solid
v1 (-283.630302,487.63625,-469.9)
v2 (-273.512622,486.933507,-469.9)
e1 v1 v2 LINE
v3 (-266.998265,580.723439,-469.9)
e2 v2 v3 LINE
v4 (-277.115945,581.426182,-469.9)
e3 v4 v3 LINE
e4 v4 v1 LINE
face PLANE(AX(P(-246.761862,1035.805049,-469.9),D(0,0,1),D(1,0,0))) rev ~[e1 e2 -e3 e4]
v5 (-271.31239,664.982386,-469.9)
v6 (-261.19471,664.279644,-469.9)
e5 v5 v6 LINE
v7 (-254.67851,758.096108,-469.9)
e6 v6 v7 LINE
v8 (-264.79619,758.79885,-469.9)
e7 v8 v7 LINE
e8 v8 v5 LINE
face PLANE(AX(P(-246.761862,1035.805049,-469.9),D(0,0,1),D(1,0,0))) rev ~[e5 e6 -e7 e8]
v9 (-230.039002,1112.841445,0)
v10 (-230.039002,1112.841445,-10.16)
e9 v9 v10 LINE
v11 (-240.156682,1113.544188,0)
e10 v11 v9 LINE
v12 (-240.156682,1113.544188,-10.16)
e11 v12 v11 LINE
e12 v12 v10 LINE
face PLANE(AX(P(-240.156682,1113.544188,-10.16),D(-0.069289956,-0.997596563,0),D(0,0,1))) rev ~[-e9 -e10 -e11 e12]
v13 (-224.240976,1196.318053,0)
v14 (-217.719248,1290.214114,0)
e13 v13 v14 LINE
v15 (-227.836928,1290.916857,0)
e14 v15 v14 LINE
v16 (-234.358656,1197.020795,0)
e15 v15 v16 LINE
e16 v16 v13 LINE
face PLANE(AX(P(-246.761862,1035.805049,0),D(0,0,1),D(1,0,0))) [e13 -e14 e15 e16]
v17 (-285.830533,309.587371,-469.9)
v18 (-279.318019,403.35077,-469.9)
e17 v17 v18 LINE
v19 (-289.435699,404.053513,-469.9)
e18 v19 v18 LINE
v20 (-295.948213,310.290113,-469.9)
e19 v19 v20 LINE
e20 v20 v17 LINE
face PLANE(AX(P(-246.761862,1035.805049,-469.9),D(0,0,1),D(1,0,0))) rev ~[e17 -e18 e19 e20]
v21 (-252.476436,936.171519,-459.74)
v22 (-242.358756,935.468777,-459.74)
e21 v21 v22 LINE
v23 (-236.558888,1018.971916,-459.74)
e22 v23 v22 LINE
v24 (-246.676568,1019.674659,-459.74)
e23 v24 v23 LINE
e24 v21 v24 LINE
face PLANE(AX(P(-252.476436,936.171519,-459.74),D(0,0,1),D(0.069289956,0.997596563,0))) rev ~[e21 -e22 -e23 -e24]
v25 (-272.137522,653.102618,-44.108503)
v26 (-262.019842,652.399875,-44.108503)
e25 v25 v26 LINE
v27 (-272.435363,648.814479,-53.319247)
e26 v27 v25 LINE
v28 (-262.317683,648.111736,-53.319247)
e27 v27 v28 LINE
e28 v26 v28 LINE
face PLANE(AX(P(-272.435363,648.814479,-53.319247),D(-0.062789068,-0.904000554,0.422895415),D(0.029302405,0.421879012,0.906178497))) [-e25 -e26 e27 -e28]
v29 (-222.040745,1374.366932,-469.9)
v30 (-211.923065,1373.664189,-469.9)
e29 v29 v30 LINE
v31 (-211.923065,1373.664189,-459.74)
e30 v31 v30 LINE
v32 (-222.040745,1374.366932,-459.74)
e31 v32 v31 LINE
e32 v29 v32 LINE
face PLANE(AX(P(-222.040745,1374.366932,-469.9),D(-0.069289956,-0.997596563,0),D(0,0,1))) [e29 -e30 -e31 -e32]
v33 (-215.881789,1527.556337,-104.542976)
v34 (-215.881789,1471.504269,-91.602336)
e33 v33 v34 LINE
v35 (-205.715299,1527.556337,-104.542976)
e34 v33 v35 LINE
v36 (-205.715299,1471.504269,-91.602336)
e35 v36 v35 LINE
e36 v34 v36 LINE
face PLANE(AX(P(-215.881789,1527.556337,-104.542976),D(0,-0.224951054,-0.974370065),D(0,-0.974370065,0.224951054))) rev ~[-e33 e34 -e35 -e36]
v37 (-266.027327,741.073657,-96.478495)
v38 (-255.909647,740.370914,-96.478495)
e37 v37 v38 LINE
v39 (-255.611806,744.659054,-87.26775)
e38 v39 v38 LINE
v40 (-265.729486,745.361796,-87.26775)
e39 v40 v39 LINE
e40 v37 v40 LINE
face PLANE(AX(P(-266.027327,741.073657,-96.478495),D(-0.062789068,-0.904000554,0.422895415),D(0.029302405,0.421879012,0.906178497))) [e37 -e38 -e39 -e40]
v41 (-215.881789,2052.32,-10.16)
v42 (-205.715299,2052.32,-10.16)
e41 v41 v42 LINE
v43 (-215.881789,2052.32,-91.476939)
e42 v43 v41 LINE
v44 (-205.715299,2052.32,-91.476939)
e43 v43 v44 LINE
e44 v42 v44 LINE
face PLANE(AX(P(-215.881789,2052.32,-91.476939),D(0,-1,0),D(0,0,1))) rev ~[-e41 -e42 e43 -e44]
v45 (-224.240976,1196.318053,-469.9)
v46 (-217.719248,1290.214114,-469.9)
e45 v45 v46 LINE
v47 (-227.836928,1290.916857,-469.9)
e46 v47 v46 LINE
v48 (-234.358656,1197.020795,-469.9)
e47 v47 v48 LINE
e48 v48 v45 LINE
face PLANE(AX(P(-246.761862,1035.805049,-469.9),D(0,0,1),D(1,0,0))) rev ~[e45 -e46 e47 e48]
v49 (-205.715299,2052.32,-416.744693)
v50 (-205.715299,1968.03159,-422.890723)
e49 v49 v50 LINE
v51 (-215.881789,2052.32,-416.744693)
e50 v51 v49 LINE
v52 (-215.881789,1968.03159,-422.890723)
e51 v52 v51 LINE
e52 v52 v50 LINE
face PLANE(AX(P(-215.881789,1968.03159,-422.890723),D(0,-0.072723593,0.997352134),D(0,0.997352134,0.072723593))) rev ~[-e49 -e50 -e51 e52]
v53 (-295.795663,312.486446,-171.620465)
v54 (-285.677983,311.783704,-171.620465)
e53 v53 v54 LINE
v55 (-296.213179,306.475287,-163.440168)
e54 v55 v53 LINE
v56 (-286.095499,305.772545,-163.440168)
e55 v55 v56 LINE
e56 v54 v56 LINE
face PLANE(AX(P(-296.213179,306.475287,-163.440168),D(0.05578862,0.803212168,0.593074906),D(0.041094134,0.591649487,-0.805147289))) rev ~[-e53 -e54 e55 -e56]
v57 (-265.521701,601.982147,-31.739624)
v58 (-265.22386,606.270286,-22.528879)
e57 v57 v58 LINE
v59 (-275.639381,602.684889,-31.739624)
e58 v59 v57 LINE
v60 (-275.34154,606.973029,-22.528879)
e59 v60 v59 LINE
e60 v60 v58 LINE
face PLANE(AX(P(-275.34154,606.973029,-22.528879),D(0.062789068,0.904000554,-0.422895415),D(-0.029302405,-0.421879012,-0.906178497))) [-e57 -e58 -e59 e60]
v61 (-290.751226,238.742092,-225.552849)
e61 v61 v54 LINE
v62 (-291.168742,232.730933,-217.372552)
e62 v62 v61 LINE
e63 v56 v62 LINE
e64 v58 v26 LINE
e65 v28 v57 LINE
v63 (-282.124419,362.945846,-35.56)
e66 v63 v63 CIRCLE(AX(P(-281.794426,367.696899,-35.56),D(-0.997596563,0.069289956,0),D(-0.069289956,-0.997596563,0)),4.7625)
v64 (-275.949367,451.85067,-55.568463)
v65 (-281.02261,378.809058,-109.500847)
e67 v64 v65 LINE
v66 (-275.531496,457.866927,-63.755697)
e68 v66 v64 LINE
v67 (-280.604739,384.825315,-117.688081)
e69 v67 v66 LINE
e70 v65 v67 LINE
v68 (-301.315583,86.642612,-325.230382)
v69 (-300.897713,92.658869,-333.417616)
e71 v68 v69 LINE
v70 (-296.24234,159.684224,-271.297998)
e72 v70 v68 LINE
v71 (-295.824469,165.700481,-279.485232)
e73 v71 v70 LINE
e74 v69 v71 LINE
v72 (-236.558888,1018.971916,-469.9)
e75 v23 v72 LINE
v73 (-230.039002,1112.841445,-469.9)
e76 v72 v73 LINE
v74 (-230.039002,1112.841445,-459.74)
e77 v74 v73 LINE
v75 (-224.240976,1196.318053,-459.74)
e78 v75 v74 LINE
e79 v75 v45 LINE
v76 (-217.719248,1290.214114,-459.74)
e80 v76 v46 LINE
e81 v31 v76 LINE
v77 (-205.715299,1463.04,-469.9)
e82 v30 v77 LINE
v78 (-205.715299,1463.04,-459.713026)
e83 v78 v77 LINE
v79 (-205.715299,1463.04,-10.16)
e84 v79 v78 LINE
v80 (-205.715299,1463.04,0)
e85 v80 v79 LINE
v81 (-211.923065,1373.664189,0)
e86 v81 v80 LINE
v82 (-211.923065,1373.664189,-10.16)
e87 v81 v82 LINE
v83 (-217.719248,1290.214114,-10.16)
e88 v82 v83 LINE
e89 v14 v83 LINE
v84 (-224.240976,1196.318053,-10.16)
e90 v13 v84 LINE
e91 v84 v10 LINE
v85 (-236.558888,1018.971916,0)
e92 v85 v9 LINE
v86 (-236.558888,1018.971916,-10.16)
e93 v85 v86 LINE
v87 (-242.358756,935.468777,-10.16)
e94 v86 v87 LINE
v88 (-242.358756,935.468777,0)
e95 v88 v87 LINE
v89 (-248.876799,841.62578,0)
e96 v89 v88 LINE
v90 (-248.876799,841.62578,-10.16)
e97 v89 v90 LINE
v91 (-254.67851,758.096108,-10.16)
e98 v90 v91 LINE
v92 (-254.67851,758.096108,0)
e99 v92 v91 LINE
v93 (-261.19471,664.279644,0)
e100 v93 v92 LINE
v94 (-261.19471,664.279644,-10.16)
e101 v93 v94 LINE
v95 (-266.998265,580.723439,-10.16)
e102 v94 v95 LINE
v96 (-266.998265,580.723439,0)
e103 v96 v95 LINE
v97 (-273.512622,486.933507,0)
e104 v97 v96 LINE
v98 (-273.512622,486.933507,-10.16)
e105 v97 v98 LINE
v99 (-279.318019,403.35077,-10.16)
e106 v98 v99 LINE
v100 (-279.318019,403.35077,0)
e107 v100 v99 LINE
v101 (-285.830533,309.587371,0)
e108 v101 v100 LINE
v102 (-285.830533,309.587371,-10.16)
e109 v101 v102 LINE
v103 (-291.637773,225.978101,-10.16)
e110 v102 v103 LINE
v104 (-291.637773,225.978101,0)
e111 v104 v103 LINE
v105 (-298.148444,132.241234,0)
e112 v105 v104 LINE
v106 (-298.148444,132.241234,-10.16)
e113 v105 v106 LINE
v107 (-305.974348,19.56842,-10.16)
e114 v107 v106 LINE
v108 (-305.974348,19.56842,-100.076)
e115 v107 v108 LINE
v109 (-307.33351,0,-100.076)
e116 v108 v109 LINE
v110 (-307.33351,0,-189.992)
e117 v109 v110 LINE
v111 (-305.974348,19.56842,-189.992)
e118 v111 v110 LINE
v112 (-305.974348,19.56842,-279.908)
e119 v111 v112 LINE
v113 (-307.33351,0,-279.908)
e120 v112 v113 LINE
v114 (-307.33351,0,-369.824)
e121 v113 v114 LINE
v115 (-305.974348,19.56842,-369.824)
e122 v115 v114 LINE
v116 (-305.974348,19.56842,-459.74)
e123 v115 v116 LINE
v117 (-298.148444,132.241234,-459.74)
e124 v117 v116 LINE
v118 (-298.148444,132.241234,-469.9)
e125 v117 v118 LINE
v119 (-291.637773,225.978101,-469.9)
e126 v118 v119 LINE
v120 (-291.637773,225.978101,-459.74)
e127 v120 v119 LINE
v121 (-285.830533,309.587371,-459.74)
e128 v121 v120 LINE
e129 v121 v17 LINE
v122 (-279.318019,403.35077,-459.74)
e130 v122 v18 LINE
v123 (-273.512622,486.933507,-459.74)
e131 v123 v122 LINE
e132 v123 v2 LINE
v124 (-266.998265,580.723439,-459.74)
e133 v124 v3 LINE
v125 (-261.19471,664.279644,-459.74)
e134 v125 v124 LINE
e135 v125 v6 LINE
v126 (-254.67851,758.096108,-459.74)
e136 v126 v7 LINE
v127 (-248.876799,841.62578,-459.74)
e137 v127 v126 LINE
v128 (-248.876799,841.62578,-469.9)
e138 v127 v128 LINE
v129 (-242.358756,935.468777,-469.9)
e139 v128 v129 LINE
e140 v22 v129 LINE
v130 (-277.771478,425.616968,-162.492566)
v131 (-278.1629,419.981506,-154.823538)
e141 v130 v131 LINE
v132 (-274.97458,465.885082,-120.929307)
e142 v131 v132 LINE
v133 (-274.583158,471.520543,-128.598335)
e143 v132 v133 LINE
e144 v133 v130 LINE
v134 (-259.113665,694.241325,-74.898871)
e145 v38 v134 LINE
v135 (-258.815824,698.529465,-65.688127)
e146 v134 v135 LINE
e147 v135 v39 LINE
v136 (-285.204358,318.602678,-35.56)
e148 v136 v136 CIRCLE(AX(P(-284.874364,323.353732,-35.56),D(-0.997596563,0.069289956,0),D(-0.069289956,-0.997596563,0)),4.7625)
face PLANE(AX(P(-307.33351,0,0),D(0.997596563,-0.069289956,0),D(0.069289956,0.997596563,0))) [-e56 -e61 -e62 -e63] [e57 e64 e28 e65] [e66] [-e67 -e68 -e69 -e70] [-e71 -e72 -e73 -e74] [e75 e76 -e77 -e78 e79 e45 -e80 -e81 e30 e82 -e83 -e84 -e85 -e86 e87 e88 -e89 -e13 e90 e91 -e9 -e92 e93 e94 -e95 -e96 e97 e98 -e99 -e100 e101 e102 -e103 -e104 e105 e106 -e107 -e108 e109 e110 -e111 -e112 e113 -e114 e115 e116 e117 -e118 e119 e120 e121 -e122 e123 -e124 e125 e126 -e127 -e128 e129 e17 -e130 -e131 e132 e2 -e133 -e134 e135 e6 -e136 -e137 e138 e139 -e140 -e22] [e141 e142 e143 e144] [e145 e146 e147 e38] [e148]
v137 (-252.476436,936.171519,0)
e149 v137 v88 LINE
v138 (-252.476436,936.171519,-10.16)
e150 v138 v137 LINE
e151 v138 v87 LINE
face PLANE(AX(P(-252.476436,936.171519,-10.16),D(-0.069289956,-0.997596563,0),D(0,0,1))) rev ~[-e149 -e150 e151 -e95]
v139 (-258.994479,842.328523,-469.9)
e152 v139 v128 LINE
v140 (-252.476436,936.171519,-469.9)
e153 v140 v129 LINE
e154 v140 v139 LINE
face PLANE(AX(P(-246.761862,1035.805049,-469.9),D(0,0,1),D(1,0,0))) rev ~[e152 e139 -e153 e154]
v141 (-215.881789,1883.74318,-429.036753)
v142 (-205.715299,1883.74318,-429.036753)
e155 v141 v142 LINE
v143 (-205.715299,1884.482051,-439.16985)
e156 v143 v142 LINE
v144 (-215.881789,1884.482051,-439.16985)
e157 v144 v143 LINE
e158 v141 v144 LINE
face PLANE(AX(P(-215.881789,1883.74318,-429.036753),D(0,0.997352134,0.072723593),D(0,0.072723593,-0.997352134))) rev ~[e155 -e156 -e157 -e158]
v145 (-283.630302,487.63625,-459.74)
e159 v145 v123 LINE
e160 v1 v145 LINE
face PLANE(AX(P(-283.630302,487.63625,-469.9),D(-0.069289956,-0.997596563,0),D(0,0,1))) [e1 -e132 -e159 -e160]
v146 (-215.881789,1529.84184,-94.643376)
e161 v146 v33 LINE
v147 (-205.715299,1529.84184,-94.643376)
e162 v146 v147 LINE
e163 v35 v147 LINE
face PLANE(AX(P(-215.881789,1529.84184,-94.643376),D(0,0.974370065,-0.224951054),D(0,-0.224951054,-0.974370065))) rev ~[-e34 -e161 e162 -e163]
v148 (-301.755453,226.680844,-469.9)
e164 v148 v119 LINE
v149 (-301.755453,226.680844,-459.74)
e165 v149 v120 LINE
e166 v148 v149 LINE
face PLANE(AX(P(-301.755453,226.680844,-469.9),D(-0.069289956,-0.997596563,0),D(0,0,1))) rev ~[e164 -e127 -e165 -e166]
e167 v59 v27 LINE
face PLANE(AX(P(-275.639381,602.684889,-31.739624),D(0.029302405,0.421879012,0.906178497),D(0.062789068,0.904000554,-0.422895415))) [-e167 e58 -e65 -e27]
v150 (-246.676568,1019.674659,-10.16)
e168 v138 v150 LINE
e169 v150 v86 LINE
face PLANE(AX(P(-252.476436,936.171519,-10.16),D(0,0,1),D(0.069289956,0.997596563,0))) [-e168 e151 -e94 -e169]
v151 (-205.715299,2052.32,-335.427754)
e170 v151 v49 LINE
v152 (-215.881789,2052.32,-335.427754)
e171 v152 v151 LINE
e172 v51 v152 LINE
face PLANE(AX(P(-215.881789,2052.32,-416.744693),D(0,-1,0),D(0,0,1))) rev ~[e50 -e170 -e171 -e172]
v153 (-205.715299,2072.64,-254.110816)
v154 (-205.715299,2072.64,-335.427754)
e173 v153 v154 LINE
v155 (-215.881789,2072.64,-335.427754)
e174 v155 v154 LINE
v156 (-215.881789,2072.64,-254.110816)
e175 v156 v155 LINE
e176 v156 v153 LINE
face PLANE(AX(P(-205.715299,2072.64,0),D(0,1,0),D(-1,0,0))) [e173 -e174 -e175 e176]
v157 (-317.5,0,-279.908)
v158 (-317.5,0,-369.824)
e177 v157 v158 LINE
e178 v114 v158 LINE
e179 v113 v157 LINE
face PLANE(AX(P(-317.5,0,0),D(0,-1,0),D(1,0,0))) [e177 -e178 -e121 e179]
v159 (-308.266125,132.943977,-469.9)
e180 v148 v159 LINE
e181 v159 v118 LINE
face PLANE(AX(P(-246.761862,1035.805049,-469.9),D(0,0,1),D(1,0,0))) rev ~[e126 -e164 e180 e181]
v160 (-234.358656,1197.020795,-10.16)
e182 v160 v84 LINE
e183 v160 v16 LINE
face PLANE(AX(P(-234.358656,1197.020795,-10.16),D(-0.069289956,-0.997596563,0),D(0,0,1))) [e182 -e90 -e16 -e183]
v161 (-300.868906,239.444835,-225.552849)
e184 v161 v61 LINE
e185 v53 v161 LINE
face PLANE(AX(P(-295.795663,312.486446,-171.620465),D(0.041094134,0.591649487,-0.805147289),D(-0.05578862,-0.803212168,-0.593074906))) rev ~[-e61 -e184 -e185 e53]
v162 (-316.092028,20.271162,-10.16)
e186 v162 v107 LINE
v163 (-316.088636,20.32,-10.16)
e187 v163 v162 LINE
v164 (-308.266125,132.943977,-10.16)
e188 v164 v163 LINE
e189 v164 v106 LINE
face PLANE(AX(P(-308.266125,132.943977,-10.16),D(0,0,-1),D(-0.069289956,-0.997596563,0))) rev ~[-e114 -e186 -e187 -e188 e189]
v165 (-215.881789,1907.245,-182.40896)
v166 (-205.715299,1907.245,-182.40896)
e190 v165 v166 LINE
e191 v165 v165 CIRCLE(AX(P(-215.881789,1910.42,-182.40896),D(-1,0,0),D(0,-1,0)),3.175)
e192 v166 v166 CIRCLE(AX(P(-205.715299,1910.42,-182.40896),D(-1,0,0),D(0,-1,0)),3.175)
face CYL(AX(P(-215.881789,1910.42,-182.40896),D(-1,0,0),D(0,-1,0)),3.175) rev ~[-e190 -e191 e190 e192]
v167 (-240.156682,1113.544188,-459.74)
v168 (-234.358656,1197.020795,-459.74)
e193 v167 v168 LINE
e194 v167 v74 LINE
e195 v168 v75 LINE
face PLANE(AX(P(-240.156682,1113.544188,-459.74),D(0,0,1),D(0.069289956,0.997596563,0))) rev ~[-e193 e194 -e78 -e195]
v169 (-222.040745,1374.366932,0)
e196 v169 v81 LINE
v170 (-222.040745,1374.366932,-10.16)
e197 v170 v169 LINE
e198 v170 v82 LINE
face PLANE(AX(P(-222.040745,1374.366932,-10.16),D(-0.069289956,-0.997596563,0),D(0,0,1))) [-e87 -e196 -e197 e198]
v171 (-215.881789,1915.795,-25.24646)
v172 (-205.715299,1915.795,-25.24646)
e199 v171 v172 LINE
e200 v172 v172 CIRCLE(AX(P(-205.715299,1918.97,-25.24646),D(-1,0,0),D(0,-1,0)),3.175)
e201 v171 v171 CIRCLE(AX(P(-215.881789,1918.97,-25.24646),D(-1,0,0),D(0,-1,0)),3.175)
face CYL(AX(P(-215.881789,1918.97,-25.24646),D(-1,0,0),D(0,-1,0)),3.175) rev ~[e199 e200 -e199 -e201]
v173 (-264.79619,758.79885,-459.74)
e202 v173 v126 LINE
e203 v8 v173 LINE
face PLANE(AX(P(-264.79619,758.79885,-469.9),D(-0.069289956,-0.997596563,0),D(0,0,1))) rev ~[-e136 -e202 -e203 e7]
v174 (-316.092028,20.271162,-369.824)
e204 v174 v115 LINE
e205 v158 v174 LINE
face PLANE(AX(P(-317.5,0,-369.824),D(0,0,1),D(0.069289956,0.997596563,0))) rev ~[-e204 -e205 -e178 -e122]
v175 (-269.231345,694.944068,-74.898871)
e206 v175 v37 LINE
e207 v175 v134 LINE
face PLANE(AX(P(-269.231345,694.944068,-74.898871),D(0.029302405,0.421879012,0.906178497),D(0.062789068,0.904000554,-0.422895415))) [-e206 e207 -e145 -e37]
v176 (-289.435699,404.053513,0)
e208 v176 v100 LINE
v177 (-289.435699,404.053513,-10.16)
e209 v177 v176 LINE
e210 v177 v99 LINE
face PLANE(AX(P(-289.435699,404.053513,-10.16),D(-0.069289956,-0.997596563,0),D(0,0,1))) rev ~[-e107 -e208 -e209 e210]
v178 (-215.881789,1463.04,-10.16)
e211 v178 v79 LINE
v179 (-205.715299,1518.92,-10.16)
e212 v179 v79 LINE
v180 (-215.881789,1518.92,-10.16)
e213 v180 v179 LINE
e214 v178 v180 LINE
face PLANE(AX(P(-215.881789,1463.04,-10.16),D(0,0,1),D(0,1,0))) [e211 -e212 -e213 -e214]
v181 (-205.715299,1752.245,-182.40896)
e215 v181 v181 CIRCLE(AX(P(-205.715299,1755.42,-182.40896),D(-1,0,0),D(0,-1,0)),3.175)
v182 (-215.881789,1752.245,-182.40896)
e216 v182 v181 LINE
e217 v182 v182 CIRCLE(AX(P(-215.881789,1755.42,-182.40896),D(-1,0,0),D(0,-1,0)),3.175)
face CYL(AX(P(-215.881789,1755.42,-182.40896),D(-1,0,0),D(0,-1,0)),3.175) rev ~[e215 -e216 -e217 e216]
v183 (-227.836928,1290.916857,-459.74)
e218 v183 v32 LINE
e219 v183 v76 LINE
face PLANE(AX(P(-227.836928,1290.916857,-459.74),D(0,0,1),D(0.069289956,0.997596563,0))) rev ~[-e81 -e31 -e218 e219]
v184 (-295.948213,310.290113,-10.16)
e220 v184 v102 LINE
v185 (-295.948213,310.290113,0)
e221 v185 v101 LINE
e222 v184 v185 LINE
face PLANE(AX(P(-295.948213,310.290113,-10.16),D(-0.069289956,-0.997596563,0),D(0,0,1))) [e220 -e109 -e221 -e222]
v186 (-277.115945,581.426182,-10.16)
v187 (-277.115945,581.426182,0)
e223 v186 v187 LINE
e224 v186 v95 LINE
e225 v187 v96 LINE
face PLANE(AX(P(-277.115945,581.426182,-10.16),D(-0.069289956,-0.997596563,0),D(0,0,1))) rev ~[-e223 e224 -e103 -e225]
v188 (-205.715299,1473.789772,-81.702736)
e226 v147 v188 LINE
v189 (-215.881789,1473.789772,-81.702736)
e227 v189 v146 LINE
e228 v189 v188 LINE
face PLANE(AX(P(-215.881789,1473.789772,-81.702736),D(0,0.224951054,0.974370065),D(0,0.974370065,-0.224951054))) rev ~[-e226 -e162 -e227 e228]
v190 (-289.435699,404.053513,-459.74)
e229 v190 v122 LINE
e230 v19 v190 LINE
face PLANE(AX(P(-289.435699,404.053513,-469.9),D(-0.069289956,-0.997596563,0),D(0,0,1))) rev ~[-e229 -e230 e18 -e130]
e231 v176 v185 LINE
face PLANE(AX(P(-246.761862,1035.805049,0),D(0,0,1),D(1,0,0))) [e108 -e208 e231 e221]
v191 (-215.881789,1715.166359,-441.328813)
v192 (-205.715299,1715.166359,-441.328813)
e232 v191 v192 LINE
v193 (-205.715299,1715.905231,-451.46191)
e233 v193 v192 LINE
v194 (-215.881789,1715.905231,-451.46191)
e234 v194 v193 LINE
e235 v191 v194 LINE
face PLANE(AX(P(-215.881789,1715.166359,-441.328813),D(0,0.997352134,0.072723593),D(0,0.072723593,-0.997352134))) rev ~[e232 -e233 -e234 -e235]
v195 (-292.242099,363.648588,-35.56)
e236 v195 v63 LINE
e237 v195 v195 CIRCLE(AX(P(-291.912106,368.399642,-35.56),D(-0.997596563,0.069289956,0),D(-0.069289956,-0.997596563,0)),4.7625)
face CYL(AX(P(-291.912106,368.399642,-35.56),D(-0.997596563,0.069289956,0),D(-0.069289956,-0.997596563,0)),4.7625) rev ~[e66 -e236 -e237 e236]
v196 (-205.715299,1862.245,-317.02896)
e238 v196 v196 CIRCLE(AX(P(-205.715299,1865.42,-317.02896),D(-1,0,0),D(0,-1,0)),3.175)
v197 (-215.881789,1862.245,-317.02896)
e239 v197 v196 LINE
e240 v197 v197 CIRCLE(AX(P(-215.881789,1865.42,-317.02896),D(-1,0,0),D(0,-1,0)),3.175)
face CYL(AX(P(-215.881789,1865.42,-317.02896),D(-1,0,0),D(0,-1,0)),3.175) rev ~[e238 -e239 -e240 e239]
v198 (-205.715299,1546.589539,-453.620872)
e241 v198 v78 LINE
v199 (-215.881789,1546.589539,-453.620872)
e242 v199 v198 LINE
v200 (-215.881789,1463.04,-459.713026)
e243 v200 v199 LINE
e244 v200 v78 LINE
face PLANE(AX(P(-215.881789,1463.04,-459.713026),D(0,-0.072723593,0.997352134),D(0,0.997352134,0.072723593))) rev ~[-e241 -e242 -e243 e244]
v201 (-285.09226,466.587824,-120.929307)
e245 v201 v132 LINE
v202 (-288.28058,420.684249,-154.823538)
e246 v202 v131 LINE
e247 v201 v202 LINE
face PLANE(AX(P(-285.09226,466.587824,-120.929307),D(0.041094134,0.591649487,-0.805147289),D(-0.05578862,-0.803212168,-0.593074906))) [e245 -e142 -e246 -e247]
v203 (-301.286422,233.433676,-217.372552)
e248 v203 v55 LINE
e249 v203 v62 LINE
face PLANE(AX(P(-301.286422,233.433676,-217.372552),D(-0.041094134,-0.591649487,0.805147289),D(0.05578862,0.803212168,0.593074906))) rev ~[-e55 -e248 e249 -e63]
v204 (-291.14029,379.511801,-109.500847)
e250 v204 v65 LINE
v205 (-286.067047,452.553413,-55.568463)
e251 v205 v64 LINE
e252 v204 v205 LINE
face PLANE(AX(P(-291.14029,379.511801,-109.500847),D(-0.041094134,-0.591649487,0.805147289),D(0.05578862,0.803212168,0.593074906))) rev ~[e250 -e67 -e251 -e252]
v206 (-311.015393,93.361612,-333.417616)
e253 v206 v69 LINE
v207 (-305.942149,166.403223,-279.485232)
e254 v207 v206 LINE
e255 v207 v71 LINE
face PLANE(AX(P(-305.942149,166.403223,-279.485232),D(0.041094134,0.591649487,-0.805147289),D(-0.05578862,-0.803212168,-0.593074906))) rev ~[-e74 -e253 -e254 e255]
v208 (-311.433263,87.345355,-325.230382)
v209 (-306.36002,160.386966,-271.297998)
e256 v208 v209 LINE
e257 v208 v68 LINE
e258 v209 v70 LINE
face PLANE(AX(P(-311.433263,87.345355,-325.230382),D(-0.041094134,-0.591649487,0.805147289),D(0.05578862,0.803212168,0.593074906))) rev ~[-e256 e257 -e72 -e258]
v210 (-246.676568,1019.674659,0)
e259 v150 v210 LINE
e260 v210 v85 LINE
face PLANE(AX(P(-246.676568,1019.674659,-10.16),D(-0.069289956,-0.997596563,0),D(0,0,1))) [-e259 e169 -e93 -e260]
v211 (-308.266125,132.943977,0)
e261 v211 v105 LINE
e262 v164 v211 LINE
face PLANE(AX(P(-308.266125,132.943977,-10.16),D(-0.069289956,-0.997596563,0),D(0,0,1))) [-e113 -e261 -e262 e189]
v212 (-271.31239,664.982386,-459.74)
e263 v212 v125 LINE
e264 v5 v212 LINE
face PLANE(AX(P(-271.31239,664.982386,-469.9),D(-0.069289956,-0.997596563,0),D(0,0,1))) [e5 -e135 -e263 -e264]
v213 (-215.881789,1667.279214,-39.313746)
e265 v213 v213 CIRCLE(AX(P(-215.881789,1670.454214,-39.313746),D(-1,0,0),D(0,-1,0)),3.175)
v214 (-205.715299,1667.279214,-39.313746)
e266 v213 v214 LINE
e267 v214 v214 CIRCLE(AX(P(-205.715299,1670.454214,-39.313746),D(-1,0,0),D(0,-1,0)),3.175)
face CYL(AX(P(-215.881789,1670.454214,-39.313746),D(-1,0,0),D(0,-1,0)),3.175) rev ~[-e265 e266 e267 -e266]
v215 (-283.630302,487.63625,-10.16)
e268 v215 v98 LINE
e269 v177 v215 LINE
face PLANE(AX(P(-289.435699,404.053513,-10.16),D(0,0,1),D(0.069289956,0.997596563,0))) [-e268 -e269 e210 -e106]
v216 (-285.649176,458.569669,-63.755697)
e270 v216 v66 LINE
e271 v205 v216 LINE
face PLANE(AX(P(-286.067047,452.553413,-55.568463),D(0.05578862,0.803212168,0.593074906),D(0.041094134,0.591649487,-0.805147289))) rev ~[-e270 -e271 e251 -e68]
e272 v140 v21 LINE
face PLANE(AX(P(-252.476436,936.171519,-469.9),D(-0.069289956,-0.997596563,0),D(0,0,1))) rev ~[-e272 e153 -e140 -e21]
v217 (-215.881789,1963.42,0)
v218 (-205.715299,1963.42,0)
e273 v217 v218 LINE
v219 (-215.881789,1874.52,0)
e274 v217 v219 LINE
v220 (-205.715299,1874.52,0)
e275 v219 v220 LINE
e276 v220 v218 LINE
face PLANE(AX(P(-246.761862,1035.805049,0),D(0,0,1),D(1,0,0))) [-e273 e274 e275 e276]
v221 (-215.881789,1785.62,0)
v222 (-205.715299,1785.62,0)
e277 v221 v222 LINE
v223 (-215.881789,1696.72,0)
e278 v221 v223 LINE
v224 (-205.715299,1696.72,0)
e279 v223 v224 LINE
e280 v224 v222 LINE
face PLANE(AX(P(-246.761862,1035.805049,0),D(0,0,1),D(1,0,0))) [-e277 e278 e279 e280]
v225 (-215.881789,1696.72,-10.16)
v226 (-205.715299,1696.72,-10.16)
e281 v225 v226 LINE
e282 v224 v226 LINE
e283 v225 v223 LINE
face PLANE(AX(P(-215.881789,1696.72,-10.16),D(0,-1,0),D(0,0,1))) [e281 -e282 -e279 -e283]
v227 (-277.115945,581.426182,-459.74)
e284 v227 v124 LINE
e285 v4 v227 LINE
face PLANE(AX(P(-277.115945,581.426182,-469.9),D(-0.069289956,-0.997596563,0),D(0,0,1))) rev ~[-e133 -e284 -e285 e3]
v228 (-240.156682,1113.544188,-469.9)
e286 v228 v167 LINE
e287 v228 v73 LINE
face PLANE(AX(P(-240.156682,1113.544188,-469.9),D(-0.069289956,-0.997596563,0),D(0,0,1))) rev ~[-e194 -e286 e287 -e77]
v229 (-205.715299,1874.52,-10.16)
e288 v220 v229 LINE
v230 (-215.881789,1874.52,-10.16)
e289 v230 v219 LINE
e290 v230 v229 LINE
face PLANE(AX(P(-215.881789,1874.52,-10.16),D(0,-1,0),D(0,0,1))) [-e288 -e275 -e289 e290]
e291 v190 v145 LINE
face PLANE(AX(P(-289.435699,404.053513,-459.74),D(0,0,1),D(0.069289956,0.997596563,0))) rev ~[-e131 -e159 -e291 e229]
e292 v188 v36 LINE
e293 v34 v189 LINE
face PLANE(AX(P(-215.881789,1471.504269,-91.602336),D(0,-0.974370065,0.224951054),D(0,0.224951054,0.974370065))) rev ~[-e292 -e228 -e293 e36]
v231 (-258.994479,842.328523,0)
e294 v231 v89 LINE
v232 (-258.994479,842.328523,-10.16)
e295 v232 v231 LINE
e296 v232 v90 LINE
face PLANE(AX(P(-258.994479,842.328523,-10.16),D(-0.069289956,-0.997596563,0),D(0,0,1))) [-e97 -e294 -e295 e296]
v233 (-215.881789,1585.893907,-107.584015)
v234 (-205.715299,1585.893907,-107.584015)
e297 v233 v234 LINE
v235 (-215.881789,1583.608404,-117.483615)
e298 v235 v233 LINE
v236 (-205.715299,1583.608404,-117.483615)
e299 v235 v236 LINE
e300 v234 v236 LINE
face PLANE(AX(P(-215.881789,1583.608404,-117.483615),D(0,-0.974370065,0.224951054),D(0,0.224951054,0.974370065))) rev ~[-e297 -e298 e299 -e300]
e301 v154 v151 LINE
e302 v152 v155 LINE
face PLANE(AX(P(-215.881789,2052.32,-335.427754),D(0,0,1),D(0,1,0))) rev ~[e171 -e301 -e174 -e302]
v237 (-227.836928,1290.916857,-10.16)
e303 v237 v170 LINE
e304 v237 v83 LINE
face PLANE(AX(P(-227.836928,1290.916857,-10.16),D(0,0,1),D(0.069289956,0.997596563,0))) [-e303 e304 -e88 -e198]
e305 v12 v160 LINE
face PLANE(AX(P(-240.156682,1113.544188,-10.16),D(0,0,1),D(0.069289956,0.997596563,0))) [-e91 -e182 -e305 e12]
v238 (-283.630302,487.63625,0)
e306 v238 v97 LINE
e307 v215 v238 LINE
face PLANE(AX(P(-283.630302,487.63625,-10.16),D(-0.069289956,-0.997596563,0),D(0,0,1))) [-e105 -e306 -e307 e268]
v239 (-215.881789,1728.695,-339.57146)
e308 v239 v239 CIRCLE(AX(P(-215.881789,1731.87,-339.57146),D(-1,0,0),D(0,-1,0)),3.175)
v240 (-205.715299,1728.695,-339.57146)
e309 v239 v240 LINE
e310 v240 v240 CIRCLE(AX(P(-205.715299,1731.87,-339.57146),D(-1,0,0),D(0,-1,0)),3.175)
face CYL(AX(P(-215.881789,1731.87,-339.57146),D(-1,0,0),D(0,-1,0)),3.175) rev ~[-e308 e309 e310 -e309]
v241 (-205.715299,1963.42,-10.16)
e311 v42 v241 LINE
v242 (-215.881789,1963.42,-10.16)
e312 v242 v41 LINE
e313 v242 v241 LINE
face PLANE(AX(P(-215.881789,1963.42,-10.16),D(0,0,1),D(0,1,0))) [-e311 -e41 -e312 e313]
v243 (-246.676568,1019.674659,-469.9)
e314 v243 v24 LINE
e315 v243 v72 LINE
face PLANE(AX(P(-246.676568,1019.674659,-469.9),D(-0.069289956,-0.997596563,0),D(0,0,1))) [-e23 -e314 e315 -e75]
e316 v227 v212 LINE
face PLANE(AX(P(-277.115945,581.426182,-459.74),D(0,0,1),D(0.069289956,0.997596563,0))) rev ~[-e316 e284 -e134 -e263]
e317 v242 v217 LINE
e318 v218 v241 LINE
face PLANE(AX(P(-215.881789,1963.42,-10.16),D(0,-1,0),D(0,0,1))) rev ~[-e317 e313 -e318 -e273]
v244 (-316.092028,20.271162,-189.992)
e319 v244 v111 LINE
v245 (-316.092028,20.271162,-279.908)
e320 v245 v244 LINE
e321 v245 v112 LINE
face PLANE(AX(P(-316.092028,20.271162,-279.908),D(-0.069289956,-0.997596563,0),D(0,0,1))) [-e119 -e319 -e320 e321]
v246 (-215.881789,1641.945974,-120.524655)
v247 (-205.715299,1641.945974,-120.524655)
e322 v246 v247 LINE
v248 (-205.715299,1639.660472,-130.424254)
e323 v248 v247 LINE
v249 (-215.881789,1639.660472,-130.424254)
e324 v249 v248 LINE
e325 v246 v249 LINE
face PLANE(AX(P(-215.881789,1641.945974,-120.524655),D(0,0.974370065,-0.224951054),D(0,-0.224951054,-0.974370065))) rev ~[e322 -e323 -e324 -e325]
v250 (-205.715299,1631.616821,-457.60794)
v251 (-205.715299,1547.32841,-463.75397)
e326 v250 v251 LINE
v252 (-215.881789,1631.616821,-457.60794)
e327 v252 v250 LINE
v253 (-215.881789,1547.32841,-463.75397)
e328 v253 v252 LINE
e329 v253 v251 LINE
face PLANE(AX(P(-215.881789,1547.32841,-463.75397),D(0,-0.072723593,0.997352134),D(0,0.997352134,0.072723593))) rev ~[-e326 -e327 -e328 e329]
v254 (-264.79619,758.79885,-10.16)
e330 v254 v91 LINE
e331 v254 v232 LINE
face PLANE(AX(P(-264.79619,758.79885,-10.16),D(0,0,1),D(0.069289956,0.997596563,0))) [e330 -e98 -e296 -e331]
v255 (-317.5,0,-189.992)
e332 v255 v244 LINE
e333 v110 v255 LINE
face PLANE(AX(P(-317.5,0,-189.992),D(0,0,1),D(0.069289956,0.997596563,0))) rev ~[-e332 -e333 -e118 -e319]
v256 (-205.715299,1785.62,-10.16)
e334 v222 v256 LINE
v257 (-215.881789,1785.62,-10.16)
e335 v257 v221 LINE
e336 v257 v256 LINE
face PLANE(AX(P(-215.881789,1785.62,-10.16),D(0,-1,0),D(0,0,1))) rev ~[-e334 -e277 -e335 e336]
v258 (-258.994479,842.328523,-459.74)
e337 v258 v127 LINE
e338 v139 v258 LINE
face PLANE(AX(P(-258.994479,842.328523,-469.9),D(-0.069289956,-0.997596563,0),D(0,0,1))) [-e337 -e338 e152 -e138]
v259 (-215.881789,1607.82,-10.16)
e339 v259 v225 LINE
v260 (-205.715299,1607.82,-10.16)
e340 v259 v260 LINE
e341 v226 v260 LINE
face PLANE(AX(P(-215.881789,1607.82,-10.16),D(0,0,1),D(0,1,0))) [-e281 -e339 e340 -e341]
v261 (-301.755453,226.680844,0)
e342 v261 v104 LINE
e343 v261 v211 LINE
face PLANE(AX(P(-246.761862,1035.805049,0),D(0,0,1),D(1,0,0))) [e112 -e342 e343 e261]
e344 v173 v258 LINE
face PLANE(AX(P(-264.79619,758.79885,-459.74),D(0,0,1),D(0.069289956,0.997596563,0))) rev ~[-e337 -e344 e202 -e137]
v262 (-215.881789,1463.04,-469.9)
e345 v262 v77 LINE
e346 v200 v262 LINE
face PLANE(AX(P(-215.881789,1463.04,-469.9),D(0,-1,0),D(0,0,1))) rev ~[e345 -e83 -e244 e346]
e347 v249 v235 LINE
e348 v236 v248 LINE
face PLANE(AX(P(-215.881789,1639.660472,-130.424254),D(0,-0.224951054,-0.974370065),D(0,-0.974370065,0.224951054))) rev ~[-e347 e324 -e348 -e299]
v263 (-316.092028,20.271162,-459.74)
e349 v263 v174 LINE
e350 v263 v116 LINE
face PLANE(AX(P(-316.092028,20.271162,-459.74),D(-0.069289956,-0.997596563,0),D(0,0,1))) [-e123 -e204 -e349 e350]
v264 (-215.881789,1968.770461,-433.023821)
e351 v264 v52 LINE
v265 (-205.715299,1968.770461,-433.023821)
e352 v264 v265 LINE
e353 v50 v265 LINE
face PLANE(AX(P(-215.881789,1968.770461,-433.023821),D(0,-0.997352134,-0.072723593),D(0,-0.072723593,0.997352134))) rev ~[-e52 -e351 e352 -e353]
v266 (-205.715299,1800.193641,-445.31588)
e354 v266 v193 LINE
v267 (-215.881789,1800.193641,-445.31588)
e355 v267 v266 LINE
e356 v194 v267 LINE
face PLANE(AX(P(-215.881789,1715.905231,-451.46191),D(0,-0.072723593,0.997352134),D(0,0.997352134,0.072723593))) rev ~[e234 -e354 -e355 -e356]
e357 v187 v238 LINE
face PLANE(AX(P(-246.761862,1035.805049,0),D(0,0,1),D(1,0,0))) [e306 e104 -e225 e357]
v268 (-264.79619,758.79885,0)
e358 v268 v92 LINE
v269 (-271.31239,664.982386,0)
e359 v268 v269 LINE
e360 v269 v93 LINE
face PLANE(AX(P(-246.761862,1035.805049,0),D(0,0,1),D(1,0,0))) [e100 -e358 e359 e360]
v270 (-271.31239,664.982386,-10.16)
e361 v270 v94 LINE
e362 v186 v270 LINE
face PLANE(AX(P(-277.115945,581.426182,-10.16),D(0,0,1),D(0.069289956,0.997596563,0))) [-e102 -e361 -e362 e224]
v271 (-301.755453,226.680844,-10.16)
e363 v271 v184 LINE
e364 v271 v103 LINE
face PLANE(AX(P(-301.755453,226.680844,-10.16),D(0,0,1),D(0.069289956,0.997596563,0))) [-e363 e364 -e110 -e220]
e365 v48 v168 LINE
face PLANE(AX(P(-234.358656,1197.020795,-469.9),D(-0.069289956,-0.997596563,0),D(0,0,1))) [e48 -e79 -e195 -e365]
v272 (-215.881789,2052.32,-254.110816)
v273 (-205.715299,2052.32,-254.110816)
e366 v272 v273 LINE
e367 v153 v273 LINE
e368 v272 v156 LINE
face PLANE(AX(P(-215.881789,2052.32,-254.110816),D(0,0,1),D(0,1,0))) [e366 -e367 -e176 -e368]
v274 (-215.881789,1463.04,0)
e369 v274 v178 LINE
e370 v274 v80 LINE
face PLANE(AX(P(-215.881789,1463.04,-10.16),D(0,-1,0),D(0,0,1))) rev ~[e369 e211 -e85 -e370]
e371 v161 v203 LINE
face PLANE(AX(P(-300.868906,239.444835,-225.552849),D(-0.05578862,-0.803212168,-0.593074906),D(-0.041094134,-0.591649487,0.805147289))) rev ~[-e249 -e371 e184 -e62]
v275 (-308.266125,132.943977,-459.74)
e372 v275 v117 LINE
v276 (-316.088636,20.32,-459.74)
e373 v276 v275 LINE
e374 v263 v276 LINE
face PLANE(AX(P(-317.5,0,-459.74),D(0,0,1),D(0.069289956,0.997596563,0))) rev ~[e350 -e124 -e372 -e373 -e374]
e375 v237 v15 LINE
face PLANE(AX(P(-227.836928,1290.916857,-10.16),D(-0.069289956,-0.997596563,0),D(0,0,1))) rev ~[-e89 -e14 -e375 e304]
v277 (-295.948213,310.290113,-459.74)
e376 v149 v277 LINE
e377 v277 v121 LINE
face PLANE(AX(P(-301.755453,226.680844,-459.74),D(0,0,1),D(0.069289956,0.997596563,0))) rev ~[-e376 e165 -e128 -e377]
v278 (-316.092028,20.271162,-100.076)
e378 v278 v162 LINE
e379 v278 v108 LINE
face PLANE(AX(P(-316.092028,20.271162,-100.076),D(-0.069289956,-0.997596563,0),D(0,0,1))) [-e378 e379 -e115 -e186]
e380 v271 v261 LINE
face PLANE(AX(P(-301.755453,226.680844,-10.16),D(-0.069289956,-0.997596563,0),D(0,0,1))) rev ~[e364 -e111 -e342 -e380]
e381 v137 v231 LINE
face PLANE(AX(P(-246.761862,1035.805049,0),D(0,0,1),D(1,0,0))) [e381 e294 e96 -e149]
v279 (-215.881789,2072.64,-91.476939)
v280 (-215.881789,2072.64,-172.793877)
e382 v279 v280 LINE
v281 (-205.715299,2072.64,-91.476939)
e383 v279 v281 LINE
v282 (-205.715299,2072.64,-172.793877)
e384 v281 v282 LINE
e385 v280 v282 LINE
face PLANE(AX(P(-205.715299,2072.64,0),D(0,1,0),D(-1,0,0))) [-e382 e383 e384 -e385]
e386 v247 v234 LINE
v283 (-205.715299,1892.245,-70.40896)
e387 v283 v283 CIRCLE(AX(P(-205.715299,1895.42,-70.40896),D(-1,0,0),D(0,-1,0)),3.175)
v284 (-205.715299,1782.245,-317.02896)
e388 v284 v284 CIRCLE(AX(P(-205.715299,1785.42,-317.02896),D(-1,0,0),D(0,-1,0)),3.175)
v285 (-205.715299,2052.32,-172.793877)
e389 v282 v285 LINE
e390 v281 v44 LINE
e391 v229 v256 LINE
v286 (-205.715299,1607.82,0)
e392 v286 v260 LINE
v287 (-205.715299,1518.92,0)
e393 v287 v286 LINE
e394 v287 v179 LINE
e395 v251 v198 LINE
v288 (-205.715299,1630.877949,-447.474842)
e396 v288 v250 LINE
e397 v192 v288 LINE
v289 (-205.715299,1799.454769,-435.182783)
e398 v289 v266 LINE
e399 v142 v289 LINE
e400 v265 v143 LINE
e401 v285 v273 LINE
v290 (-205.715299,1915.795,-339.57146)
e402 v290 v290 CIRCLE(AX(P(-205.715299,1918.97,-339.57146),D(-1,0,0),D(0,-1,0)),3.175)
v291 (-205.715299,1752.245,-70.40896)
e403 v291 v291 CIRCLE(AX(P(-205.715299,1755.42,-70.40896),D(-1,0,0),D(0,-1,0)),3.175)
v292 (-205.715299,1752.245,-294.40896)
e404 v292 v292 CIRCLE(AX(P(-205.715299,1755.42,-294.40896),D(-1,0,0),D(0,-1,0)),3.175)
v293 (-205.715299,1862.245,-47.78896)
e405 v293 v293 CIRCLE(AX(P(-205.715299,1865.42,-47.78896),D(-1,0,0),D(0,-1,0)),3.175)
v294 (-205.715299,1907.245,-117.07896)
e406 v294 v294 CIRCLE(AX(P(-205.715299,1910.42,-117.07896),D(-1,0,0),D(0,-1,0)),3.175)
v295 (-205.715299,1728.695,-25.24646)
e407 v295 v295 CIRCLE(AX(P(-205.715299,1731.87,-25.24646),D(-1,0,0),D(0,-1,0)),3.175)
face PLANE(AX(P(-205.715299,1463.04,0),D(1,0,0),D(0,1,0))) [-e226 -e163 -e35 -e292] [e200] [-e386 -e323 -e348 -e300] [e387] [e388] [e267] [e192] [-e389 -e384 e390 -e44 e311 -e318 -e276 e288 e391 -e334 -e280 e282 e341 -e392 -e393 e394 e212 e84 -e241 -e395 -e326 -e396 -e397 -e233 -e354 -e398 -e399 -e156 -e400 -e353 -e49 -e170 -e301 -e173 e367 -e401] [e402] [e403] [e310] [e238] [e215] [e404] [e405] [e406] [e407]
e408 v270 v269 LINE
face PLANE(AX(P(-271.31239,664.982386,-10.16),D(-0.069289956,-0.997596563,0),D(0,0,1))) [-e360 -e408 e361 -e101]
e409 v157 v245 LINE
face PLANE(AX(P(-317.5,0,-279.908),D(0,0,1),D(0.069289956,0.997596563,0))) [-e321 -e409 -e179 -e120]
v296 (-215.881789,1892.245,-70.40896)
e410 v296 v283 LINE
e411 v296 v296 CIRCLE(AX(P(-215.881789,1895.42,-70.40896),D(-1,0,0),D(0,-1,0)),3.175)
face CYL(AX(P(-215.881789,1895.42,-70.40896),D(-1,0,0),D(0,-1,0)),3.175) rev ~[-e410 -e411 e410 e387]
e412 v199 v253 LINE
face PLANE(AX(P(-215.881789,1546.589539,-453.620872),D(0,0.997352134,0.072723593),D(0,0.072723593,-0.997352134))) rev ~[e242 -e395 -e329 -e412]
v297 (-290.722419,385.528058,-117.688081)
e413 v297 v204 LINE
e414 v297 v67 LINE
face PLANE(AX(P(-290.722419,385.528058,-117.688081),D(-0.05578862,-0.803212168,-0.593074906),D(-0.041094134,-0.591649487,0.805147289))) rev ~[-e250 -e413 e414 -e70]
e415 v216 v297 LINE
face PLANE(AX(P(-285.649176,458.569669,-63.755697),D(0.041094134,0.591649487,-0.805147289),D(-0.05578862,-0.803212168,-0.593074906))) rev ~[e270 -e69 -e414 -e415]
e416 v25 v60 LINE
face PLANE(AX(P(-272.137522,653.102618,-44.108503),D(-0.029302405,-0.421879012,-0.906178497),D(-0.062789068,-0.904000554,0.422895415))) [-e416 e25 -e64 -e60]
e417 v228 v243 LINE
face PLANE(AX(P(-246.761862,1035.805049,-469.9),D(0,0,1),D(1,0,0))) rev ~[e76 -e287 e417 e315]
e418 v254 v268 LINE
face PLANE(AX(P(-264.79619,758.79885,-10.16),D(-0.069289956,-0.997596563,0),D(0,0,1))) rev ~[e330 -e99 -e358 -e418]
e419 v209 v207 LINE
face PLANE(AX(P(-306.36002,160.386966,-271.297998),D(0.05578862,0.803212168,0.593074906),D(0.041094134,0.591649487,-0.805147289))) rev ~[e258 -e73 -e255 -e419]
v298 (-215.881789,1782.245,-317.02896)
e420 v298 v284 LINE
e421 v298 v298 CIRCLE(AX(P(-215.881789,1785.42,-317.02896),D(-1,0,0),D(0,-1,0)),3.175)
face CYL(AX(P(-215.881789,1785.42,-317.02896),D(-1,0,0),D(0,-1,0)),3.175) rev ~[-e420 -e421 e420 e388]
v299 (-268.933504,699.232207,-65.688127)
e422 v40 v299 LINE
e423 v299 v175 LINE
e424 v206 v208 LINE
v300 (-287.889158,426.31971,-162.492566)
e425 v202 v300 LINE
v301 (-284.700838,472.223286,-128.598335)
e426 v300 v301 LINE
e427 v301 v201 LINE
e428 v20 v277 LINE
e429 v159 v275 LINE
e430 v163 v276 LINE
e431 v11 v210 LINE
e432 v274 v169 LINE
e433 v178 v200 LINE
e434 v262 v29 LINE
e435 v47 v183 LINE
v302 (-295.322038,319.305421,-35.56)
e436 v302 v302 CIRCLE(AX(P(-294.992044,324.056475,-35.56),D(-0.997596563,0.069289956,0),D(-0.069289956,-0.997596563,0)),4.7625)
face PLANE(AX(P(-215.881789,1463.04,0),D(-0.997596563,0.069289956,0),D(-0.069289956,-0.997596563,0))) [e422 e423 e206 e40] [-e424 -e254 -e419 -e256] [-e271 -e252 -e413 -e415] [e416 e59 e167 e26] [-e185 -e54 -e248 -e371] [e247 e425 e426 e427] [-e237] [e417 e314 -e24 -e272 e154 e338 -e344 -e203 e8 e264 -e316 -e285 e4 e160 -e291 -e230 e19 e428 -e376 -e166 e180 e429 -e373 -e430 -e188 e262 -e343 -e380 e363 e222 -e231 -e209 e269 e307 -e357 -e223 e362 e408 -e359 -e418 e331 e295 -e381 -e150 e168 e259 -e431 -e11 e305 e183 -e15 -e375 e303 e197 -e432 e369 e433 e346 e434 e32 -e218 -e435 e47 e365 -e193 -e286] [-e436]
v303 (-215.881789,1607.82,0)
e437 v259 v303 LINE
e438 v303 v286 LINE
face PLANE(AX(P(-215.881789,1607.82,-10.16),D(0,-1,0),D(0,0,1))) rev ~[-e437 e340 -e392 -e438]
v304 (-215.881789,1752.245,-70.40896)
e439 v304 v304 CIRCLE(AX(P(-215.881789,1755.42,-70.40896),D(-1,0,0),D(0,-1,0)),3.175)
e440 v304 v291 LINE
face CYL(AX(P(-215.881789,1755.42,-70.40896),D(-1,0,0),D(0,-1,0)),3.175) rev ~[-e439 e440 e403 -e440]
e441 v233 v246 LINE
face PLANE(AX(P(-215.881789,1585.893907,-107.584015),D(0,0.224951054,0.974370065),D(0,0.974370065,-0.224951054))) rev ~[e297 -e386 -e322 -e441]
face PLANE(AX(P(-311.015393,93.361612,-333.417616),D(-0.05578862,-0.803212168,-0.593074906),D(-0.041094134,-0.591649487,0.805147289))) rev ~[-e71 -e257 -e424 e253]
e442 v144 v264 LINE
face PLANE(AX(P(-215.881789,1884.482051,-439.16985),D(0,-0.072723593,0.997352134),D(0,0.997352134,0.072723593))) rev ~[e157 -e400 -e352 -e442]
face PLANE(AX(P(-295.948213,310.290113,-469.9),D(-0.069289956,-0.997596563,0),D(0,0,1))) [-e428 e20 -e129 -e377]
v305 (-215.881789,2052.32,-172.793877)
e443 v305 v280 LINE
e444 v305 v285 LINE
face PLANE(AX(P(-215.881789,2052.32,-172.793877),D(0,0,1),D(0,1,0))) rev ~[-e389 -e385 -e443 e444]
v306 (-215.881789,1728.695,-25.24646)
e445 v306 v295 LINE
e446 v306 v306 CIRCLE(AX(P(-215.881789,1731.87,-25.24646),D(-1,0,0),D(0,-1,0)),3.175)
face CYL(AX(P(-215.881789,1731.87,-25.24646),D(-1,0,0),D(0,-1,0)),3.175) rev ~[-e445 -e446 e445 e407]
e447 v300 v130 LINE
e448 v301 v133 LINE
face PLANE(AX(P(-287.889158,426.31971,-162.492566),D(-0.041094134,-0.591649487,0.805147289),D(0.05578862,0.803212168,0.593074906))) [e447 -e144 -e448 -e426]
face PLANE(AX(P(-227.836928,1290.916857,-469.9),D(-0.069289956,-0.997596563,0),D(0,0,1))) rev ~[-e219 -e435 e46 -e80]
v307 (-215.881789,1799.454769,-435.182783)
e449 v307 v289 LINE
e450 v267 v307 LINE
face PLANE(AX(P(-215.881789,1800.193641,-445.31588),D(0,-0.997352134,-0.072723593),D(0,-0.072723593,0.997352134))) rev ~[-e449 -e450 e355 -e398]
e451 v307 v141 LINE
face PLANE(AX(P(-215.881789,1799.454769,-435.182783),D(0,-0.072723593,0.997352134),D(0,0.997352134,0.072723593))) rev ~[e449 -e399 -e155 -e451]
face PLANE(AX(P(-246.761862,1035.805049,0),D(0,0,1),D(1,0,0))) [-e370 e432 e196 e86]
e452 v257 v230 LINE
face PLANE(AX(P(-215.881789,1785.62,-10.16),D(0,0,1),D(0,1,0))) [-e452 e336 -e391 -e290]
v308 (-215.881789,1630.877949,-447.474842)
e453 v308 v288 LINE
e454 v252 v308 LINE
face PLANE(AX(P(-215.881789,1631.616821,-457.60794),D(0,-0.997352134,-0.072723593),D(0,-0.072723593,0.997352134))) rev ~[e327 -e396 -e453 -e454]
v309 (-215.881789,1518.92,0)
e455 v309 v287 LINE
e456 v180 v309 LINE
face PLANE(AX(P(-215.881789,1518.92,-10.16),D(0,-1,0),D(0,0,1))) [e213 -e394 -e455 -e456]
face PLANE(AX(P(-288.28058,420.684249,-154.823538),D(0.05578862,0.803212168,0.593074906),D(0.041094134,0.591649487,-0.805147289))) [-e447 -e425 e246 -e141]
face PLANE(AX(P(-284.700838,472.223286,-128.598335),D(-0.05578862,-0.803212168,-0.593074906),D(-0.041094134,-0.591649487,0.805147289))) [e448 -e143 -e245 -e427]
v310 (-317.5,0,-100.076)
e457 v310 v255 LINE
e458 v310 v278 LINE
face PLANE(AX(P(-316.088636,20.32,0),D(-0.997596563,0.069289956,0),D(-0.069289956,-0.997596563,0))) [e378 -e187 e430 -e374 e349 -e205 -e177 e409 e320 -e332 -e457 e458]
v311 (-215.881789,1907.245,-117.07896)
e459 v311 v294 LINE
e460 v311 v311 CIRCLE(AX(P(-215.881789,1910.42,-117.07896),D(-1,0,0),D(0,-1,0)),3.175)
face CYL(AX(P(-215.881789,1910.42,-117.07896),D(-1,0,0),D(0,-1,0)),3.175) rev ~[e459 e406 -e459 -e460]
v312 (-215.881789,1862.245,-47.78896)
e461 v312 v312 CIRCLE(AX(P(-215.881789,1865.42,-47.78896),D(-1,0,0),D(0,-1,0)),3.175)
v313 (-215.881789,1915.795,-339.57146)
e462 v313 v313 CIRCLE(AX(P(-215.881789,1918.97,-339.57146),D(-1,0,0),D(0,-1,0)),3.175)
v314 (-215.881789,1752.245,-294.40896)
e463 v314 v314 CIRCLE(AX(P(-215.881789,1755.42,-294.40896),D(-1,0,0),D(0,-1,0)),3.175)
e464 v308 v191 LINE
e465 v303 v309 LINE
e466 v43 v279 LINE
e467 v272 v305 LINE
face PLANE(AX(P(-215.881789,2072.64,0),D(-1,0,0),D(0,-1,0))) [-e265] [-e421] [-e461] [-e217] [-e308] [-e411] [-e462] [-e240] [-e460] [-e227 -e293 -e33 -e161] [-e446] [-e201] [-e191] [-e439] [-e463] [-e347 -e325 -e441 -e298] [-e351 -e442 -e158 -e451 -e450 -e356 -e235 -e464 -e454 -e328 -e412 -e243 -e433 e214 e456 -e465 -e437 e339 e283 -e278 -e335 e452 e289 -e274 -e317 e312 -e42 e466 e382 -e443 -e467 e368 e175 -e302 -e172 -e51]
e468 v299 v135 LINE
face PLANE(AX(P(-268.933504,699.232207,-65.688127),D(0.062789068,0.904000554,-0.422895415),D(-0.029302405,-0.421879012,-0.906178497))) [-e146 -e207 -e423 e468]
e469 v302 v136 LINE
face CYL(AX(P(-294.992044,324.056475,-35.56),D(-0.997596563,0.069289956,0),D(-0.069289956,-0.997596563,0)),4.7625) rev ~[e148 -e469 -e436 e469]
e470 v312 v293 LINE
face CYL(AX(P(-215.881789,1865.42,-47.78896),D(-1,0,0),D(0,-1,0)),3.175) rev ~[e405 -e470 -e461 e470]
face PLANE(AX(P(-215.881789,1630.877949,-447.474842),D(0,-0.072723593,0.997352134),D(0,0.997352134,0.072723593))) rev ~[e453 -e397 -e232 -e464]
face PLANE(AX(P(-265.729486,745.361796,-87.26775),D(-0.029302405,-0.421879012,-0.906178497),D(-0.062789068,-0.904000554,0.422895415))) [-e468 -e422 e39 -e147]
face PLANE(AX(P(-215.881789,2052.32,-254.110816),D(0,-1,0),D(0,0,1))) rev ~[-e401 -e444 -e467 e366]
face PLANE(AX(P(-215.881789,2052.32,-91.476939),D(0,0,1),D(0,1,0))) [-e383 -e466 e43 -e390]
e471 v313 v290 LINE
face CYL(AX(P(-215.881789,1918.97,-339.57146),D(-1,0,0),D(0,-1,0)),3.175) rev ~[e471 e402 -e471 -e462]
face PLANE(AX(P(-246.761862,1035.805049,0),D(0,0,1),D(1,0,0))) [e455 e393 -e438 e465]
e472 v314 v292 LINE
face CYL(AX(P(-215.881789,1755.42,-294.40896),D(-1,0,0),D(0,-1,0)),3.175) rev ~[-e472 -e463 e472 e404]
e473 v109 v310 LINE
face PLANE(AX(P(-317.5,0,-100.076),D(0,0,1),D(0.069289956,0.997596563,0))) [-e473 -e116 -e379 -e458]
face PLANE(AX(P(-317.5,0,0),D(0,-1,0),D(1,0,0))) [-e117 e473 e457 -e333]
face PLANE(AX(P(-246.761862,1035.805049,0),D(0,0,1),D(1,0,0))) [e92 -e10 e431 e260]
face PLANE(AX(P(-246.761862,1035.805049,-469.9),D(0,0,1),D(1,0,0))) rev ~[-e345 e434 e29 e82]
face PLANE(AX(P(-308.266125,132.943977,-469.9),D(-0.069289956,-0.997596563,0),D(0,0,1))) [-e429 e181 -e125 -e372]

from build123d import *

# Parameters (mm, degrees)
BOSS_EXTRUDE1_DEPTH = 469.9
SKETCH2_W           = 10.16
SKETCH2_H           = 83.651125112
SKETCH2_H_2         = 83.677721465
SKETCH2_H_3         = 83.704317819
SKETCH2_H_4         = 83.730914172
SKETCH2_H_5         = 83.757510526
SKETCH2_H_6         = 83.784106879
SKETCH2_H_7         = 83.810703233
SKETCH2_H_8         = 133.264269193
CUT_EXTRUDE1_DEPTH  = 10.16
SKETCH3_W           = 10.16
SKETCH3_H           = 55.879999965
SKETCH3_H_2         = 88.9
SKETCH3_H_3         = 109.22
CUT_EXTRUDE2_DEPTH  = 12.7
SKETCH4_W           = 81.316938584
SKETCH4_H           = 20.32
SKETCH4_W_2         = 81.316938585
CUT_EXTRUDE3_DEPTH  = 12.7
SKETCH5_W           = 89.916
SKETCH5_H           = 20.32
CUT_EXTRUDE4_DEPTH  = 12.7
CUT_EXTRUDE5_DEPTH  = 137.414
SKETCH13_R          = 3.175
CUT_EXTRUDE8_DEPTH  = 2128.667464702
CUT_EXTRUDE9_DEPTH  = 2128.667464702
SKETCH20_R          = 4.7625
CUT_EXTRUDE10_DEPTH = 2107.728843747
SKETCH24_R          = 3.175
CUT_EXTRUDE12_DEPTH = 12.7


with BuildPart() as part:
    # Sketch1 → Boss-Extrude1 (new body)
    with BuildSketch(Plane.XY):
        Polygon((-215.881789204, 2052.32), (-215.881789204, 1463.040000035), (-316.088635901, 20.32), (-317.499999939, 0), (-307.333509538, 0), (-205.715298803, 1463.040000035), (-205.715298803, 2072.64), (-215.881789204, 2072.64), align=None)
    extrude(amount=-BOSS_EXTRUDE1_DEPTH)

    # Sketch2 → Cut-Extrude1 (cut)
    with BuildSketch(Plane(origin=(-315.975651309, 21.946686571, 0), x_dir=(0, 0, 1), z_dir=(-0.9975965627192115, 0.06928995634877068, 0))):
        with Locations((-464.82, 1313.852971026)):
            Rectangle(SKETCH2_W, SKETCH2_H)
        with Locations((-464.82, 1136.066269203)):
            Rectangle(SKETCH2_W, SKETCH2_H_2)
        with Locations((-464.82, 958.27956738)):
            Rectangle(SKETCH2_W, SKETCH2_H_3)
        with Locations((-464.82, 780.492865556)):
            Rectangle(SKETCH2_W, SKETCH2_H_4)
        with Locations((-464.82, 602.706163733)):
            Rectangle(SKETCH2_W, SKETCH2_H_5)
        with Locations((-464.82, 424.91946191)):
            Rectangle(SKETCH2_W, SKETCH2_H_6)
        with Locations((-464.82, 247.132760087)):
            Rectangle(SKETCH2_W, SKETCH2_H_7)
        with Locations((-464.82, 44.63257346)):
            Rectangle(SKETCH2_W, SKETCH2_H_8)
        with Locations((-5.08, 44.63257346)):
            Rectangle(SKETCH2_W, SKETCH2_H_8)
        with Locations((-5.08, 247.132760087)):
            Rectangle(SKETCH2_W, SKETCH2_H_7)
        with Locations((-5.08, 424.91946191)):
            Rectangle(SKETCH2_W, SKETCH2_H_6)
        with Locations((-5.08, 602.706163733)):
            Rectangle(SKETCH2_W, SKETCH2_H_5)
        with Locations((-5.08, 780.492865556)):
            Rectangle(SKETCH2_W, SKETCH2_H_4)
        with Locations((-5.08, 958.27956738)):
            Rectangle(SKETCH2_W, SKETCH2_H_3)
        with Locations((-5.08, 1136.066269203)):
            Rectangle(SKETCH2_W, SKETCH2_H_2)
        with Locations((-5.08, 1313.852971026)):
            Rectangle(SKETCH2_W, SKETCH2_H)
    extrude(amount=-CUT_EXTRUDE1_DEPTH, mode=Mode.SUBTRACT)

    # Sketch3 → Cut-Extrude2 (cut)
    with BuildSketch(Plane.ZY.offset(215.881789204)):
        with Locations((-5.08, 1490.980000018)):
            Rectangle(SKETCH3_W, SKETCH3_H)
        with Locations((-5.08, 1652.27)):
            Rectangle(SKETCH3_W, SKETCH3_H_2)
        Polygon((-469.9, 1463.040000035), (-459.713026258, 1463.040000035), (-453.620872406, 1546.589538567), (-463.753970086, 1547.328410273), (-457.607940173, 1631.616820512), (-447.474842492, 1630.877948806), (-441.328812579, 1715.166359045), (-451.461910259, 1715.905230751), (-445.315880346, 1800.19364099), (-435.182782665, 1799.454769284), (-429.036752752, 1883.743179522), (-439.169850432, 1884.482051228), (-433.023820518, 1968.770461467), (-422.890722838, 1968.031589761), (-415.263026258, 2072.64), (-469.9, 2072.64), align=None)
        with Locations((-5.08, 1830.07)):
            Rectangle(SKETCH3_W, SKETCH3_H_2)
        with Locations((-5.08, 2018.03)):
            Rectangle(SKETCH3_W, SKETCH3_H_3)
    extrude(amount=-CUT_EXTRUDE2_DEPTH, mode=Mode.SUBTRACT)

    # Sketch4 → Cut-Extrude3 (cut)
    with BuildSketch(Plane.ZY.offset(215.881789204)):
        with Locations((-376.086223632, 2062.48)):
            Rectangle(SKETCH4_W, SKETCH4_H)
        with Locations((-213.452346463, 2062.48)):
            Rectangle(SKETCH4_W_2, SKETCH4_H)
        with Locations((-50.818469292, 2062.48)):
            Rectangle(SKETCH4_W_2, SKETCH4_H)
    extrude(amount=-CUT_EXTRUDE3_DEPTH, mode=Mode.SUBTRACT)

    # Sketch5 → Cut-Extrude4 (cut)
    with BuildSketch(Plane(origin=(-315.975651309, 21.946686571, 0), x_dir=(0, 0, 1), z_dir=(-0.9975965627192115, 0.06928995634877068, 0))):
        with Locations((-414.782, -11.839561137)):
            Rectangle(SKETCH5_W, SKETCH5_H)
        with Locations((-234.95, -11.839561137)):
            Rectangle(SKETCH5_W, SKETCH5_H)
        with Locations((-55.118, -11.839561137)):
            Rectangle(SKETCH5_W, SKETCH5_H)
    extrude(amount=-CUT_EXTRUDE4_DEPTH, mode=Mode.SUBTRACT)

    # Sketch6 → Cut-Extrude5 (cut)
    with BuildSketch(Plane(origin=(-315.975651309, 21.946686571, 0), x_dir=(0, 0, 1), z_dir=(-0.9975965627192115, 0.06928995634877068, 0))):
        Polygon((-225.552848619, 218.022150673), (-217.372552167, 211.996509631), (-163.440168374, 285.214095065), (-171.620464825, 291.239736107), align=None)
        Polygon((-333.417616206, 71.586979805), (-325.230382227, 65.556228551), (-271.297998434, 138.773813985), (-279.485232413, 144.804565239), align=None)
        Polygon((-117.688081031, 364.457321541), (-109.500847052, 358.426570287), (-55.568463259, 431.644155721), (-63.755697238, 437.674906975), align=None)
        Polygon((-22.52887933, 586.435803877), (-44.10850301, 632.676529752), (-53.31924736, 628.378059234), (-31.73962368, 582.137333359), align=None)
        Polygon((-96.478494721, 720.859510985), (-74.89887104, 674.61878511), (-65.68812669, 678.917255627), (-87.26775037, 725.157981502), align=None)
    extrude(amount=-CUT_EXTRUDE5_DEPTH, mode=Mode.SUBTRACT)

    # Sketch13 → Cut-Extrude8 (cut, through all)
    with BuildSketch(Plane.ZY.offset(215.881789204)):
        with Locations((-25.246459893, 1731.87)):
            Circle(SKETCH13_R)
        with Locations((-70.408959893, 1755.42)):
            Circle(SKETCH13_R)
        with Locations((-182.408959893, 1755.42)):
            Circle(SKETCH13_R)
        with Locations((-25.246459893, 1918.97)):
            Circle(SKETCH13_R)
        with Locations((-47.788959893, 1865.42)):
            Circle(SKETCH13_R)
        with Locations((-182.408959893, 1910.42)):
            Circle(SKETCH13_R)
        with Locations((-117.078959893, 1910.42)):
            Circle(SKETCH13_R)
        with Locations((-70.408959893, 1895.42)):
            Circle(SKETCH13_R)
        with Locations((-317.028959893, 1865.42)):
            Circle(SKETCH13_R)
        with Locations((-294.408959893, 1755.42)):
            Circle(SKETCH13_R)
        with Locations((-317.028959893, 1785.42)):
            Circle(SKETCH13_R)
        with Locations((-339.571459893, 1731.87)):
            Circle(SKETCH13_R)
        with Locations((-339.571459893, 1918.97)):
            Circle(SKETCH13_R)
    extrude(amount=-CUT_EXTRUDE8_DEPTH, mode=Mode.SUBTRACT)

    # Sketch17 → Cut-Extrude9 (cut, through all)
    with BuildSketch(Plane.ZY.offset(215.881789204)):
        Polygon((-120.524654614, 1641.945974367), (-130.424254473, 1639.660471655), (-117.483615058, 1583.608404231), (-107.584015199, 1585.893906943), align=None)
        Polygon((-94.643375784, 1529.841839519), (-104.542975642, 1527.556336807), (-91.602336227, 1471.504269383), (-81.702736369, 1473.789772095), align=None)
    extrude(amount=-CUT_EXTRUDE9_DEPTH, mode=Mode.SUBTRACT)

    # Sketch20 → Cut-Extrude10 (cut, through all)
    with BuildSketch(Plane(origin=(-315.975651309, 21.946686571, 0), x_dir=(0, 0, 1), z_dir=(-0.9975965627192116, 0.06928995634876853, 0))):
        Polygon((-128.598334701, 451.361418049), (-162.492565561, 405.347250509), (-154.823537638, 399.698212032), (-120.929306778, 445.712379572), align=None)
        with Locations((-35.56, 347.287639338)):
            Circle(SKETCH20_R)
        with Locations((-35.56, 302.837639338)):
            Circle(SKETCH20_R)
    extrude(amount=-CUT_EXTRUDE10_DEPTH, mode=Mode.SUBTRACT)

    # Sketch24 → Cut-Extrude12 (cut)
    with BuildSketch(Plane.ZY.offset(215.881789204)):
        with Locations((-39.313746491, 1670.454214013)):
            Circle(SKETCH24_R)
    extrude(amount=-CUT_EXTRUDE12_DEPTH, mode=Mode.SUBTRACT)


solid = part.part
